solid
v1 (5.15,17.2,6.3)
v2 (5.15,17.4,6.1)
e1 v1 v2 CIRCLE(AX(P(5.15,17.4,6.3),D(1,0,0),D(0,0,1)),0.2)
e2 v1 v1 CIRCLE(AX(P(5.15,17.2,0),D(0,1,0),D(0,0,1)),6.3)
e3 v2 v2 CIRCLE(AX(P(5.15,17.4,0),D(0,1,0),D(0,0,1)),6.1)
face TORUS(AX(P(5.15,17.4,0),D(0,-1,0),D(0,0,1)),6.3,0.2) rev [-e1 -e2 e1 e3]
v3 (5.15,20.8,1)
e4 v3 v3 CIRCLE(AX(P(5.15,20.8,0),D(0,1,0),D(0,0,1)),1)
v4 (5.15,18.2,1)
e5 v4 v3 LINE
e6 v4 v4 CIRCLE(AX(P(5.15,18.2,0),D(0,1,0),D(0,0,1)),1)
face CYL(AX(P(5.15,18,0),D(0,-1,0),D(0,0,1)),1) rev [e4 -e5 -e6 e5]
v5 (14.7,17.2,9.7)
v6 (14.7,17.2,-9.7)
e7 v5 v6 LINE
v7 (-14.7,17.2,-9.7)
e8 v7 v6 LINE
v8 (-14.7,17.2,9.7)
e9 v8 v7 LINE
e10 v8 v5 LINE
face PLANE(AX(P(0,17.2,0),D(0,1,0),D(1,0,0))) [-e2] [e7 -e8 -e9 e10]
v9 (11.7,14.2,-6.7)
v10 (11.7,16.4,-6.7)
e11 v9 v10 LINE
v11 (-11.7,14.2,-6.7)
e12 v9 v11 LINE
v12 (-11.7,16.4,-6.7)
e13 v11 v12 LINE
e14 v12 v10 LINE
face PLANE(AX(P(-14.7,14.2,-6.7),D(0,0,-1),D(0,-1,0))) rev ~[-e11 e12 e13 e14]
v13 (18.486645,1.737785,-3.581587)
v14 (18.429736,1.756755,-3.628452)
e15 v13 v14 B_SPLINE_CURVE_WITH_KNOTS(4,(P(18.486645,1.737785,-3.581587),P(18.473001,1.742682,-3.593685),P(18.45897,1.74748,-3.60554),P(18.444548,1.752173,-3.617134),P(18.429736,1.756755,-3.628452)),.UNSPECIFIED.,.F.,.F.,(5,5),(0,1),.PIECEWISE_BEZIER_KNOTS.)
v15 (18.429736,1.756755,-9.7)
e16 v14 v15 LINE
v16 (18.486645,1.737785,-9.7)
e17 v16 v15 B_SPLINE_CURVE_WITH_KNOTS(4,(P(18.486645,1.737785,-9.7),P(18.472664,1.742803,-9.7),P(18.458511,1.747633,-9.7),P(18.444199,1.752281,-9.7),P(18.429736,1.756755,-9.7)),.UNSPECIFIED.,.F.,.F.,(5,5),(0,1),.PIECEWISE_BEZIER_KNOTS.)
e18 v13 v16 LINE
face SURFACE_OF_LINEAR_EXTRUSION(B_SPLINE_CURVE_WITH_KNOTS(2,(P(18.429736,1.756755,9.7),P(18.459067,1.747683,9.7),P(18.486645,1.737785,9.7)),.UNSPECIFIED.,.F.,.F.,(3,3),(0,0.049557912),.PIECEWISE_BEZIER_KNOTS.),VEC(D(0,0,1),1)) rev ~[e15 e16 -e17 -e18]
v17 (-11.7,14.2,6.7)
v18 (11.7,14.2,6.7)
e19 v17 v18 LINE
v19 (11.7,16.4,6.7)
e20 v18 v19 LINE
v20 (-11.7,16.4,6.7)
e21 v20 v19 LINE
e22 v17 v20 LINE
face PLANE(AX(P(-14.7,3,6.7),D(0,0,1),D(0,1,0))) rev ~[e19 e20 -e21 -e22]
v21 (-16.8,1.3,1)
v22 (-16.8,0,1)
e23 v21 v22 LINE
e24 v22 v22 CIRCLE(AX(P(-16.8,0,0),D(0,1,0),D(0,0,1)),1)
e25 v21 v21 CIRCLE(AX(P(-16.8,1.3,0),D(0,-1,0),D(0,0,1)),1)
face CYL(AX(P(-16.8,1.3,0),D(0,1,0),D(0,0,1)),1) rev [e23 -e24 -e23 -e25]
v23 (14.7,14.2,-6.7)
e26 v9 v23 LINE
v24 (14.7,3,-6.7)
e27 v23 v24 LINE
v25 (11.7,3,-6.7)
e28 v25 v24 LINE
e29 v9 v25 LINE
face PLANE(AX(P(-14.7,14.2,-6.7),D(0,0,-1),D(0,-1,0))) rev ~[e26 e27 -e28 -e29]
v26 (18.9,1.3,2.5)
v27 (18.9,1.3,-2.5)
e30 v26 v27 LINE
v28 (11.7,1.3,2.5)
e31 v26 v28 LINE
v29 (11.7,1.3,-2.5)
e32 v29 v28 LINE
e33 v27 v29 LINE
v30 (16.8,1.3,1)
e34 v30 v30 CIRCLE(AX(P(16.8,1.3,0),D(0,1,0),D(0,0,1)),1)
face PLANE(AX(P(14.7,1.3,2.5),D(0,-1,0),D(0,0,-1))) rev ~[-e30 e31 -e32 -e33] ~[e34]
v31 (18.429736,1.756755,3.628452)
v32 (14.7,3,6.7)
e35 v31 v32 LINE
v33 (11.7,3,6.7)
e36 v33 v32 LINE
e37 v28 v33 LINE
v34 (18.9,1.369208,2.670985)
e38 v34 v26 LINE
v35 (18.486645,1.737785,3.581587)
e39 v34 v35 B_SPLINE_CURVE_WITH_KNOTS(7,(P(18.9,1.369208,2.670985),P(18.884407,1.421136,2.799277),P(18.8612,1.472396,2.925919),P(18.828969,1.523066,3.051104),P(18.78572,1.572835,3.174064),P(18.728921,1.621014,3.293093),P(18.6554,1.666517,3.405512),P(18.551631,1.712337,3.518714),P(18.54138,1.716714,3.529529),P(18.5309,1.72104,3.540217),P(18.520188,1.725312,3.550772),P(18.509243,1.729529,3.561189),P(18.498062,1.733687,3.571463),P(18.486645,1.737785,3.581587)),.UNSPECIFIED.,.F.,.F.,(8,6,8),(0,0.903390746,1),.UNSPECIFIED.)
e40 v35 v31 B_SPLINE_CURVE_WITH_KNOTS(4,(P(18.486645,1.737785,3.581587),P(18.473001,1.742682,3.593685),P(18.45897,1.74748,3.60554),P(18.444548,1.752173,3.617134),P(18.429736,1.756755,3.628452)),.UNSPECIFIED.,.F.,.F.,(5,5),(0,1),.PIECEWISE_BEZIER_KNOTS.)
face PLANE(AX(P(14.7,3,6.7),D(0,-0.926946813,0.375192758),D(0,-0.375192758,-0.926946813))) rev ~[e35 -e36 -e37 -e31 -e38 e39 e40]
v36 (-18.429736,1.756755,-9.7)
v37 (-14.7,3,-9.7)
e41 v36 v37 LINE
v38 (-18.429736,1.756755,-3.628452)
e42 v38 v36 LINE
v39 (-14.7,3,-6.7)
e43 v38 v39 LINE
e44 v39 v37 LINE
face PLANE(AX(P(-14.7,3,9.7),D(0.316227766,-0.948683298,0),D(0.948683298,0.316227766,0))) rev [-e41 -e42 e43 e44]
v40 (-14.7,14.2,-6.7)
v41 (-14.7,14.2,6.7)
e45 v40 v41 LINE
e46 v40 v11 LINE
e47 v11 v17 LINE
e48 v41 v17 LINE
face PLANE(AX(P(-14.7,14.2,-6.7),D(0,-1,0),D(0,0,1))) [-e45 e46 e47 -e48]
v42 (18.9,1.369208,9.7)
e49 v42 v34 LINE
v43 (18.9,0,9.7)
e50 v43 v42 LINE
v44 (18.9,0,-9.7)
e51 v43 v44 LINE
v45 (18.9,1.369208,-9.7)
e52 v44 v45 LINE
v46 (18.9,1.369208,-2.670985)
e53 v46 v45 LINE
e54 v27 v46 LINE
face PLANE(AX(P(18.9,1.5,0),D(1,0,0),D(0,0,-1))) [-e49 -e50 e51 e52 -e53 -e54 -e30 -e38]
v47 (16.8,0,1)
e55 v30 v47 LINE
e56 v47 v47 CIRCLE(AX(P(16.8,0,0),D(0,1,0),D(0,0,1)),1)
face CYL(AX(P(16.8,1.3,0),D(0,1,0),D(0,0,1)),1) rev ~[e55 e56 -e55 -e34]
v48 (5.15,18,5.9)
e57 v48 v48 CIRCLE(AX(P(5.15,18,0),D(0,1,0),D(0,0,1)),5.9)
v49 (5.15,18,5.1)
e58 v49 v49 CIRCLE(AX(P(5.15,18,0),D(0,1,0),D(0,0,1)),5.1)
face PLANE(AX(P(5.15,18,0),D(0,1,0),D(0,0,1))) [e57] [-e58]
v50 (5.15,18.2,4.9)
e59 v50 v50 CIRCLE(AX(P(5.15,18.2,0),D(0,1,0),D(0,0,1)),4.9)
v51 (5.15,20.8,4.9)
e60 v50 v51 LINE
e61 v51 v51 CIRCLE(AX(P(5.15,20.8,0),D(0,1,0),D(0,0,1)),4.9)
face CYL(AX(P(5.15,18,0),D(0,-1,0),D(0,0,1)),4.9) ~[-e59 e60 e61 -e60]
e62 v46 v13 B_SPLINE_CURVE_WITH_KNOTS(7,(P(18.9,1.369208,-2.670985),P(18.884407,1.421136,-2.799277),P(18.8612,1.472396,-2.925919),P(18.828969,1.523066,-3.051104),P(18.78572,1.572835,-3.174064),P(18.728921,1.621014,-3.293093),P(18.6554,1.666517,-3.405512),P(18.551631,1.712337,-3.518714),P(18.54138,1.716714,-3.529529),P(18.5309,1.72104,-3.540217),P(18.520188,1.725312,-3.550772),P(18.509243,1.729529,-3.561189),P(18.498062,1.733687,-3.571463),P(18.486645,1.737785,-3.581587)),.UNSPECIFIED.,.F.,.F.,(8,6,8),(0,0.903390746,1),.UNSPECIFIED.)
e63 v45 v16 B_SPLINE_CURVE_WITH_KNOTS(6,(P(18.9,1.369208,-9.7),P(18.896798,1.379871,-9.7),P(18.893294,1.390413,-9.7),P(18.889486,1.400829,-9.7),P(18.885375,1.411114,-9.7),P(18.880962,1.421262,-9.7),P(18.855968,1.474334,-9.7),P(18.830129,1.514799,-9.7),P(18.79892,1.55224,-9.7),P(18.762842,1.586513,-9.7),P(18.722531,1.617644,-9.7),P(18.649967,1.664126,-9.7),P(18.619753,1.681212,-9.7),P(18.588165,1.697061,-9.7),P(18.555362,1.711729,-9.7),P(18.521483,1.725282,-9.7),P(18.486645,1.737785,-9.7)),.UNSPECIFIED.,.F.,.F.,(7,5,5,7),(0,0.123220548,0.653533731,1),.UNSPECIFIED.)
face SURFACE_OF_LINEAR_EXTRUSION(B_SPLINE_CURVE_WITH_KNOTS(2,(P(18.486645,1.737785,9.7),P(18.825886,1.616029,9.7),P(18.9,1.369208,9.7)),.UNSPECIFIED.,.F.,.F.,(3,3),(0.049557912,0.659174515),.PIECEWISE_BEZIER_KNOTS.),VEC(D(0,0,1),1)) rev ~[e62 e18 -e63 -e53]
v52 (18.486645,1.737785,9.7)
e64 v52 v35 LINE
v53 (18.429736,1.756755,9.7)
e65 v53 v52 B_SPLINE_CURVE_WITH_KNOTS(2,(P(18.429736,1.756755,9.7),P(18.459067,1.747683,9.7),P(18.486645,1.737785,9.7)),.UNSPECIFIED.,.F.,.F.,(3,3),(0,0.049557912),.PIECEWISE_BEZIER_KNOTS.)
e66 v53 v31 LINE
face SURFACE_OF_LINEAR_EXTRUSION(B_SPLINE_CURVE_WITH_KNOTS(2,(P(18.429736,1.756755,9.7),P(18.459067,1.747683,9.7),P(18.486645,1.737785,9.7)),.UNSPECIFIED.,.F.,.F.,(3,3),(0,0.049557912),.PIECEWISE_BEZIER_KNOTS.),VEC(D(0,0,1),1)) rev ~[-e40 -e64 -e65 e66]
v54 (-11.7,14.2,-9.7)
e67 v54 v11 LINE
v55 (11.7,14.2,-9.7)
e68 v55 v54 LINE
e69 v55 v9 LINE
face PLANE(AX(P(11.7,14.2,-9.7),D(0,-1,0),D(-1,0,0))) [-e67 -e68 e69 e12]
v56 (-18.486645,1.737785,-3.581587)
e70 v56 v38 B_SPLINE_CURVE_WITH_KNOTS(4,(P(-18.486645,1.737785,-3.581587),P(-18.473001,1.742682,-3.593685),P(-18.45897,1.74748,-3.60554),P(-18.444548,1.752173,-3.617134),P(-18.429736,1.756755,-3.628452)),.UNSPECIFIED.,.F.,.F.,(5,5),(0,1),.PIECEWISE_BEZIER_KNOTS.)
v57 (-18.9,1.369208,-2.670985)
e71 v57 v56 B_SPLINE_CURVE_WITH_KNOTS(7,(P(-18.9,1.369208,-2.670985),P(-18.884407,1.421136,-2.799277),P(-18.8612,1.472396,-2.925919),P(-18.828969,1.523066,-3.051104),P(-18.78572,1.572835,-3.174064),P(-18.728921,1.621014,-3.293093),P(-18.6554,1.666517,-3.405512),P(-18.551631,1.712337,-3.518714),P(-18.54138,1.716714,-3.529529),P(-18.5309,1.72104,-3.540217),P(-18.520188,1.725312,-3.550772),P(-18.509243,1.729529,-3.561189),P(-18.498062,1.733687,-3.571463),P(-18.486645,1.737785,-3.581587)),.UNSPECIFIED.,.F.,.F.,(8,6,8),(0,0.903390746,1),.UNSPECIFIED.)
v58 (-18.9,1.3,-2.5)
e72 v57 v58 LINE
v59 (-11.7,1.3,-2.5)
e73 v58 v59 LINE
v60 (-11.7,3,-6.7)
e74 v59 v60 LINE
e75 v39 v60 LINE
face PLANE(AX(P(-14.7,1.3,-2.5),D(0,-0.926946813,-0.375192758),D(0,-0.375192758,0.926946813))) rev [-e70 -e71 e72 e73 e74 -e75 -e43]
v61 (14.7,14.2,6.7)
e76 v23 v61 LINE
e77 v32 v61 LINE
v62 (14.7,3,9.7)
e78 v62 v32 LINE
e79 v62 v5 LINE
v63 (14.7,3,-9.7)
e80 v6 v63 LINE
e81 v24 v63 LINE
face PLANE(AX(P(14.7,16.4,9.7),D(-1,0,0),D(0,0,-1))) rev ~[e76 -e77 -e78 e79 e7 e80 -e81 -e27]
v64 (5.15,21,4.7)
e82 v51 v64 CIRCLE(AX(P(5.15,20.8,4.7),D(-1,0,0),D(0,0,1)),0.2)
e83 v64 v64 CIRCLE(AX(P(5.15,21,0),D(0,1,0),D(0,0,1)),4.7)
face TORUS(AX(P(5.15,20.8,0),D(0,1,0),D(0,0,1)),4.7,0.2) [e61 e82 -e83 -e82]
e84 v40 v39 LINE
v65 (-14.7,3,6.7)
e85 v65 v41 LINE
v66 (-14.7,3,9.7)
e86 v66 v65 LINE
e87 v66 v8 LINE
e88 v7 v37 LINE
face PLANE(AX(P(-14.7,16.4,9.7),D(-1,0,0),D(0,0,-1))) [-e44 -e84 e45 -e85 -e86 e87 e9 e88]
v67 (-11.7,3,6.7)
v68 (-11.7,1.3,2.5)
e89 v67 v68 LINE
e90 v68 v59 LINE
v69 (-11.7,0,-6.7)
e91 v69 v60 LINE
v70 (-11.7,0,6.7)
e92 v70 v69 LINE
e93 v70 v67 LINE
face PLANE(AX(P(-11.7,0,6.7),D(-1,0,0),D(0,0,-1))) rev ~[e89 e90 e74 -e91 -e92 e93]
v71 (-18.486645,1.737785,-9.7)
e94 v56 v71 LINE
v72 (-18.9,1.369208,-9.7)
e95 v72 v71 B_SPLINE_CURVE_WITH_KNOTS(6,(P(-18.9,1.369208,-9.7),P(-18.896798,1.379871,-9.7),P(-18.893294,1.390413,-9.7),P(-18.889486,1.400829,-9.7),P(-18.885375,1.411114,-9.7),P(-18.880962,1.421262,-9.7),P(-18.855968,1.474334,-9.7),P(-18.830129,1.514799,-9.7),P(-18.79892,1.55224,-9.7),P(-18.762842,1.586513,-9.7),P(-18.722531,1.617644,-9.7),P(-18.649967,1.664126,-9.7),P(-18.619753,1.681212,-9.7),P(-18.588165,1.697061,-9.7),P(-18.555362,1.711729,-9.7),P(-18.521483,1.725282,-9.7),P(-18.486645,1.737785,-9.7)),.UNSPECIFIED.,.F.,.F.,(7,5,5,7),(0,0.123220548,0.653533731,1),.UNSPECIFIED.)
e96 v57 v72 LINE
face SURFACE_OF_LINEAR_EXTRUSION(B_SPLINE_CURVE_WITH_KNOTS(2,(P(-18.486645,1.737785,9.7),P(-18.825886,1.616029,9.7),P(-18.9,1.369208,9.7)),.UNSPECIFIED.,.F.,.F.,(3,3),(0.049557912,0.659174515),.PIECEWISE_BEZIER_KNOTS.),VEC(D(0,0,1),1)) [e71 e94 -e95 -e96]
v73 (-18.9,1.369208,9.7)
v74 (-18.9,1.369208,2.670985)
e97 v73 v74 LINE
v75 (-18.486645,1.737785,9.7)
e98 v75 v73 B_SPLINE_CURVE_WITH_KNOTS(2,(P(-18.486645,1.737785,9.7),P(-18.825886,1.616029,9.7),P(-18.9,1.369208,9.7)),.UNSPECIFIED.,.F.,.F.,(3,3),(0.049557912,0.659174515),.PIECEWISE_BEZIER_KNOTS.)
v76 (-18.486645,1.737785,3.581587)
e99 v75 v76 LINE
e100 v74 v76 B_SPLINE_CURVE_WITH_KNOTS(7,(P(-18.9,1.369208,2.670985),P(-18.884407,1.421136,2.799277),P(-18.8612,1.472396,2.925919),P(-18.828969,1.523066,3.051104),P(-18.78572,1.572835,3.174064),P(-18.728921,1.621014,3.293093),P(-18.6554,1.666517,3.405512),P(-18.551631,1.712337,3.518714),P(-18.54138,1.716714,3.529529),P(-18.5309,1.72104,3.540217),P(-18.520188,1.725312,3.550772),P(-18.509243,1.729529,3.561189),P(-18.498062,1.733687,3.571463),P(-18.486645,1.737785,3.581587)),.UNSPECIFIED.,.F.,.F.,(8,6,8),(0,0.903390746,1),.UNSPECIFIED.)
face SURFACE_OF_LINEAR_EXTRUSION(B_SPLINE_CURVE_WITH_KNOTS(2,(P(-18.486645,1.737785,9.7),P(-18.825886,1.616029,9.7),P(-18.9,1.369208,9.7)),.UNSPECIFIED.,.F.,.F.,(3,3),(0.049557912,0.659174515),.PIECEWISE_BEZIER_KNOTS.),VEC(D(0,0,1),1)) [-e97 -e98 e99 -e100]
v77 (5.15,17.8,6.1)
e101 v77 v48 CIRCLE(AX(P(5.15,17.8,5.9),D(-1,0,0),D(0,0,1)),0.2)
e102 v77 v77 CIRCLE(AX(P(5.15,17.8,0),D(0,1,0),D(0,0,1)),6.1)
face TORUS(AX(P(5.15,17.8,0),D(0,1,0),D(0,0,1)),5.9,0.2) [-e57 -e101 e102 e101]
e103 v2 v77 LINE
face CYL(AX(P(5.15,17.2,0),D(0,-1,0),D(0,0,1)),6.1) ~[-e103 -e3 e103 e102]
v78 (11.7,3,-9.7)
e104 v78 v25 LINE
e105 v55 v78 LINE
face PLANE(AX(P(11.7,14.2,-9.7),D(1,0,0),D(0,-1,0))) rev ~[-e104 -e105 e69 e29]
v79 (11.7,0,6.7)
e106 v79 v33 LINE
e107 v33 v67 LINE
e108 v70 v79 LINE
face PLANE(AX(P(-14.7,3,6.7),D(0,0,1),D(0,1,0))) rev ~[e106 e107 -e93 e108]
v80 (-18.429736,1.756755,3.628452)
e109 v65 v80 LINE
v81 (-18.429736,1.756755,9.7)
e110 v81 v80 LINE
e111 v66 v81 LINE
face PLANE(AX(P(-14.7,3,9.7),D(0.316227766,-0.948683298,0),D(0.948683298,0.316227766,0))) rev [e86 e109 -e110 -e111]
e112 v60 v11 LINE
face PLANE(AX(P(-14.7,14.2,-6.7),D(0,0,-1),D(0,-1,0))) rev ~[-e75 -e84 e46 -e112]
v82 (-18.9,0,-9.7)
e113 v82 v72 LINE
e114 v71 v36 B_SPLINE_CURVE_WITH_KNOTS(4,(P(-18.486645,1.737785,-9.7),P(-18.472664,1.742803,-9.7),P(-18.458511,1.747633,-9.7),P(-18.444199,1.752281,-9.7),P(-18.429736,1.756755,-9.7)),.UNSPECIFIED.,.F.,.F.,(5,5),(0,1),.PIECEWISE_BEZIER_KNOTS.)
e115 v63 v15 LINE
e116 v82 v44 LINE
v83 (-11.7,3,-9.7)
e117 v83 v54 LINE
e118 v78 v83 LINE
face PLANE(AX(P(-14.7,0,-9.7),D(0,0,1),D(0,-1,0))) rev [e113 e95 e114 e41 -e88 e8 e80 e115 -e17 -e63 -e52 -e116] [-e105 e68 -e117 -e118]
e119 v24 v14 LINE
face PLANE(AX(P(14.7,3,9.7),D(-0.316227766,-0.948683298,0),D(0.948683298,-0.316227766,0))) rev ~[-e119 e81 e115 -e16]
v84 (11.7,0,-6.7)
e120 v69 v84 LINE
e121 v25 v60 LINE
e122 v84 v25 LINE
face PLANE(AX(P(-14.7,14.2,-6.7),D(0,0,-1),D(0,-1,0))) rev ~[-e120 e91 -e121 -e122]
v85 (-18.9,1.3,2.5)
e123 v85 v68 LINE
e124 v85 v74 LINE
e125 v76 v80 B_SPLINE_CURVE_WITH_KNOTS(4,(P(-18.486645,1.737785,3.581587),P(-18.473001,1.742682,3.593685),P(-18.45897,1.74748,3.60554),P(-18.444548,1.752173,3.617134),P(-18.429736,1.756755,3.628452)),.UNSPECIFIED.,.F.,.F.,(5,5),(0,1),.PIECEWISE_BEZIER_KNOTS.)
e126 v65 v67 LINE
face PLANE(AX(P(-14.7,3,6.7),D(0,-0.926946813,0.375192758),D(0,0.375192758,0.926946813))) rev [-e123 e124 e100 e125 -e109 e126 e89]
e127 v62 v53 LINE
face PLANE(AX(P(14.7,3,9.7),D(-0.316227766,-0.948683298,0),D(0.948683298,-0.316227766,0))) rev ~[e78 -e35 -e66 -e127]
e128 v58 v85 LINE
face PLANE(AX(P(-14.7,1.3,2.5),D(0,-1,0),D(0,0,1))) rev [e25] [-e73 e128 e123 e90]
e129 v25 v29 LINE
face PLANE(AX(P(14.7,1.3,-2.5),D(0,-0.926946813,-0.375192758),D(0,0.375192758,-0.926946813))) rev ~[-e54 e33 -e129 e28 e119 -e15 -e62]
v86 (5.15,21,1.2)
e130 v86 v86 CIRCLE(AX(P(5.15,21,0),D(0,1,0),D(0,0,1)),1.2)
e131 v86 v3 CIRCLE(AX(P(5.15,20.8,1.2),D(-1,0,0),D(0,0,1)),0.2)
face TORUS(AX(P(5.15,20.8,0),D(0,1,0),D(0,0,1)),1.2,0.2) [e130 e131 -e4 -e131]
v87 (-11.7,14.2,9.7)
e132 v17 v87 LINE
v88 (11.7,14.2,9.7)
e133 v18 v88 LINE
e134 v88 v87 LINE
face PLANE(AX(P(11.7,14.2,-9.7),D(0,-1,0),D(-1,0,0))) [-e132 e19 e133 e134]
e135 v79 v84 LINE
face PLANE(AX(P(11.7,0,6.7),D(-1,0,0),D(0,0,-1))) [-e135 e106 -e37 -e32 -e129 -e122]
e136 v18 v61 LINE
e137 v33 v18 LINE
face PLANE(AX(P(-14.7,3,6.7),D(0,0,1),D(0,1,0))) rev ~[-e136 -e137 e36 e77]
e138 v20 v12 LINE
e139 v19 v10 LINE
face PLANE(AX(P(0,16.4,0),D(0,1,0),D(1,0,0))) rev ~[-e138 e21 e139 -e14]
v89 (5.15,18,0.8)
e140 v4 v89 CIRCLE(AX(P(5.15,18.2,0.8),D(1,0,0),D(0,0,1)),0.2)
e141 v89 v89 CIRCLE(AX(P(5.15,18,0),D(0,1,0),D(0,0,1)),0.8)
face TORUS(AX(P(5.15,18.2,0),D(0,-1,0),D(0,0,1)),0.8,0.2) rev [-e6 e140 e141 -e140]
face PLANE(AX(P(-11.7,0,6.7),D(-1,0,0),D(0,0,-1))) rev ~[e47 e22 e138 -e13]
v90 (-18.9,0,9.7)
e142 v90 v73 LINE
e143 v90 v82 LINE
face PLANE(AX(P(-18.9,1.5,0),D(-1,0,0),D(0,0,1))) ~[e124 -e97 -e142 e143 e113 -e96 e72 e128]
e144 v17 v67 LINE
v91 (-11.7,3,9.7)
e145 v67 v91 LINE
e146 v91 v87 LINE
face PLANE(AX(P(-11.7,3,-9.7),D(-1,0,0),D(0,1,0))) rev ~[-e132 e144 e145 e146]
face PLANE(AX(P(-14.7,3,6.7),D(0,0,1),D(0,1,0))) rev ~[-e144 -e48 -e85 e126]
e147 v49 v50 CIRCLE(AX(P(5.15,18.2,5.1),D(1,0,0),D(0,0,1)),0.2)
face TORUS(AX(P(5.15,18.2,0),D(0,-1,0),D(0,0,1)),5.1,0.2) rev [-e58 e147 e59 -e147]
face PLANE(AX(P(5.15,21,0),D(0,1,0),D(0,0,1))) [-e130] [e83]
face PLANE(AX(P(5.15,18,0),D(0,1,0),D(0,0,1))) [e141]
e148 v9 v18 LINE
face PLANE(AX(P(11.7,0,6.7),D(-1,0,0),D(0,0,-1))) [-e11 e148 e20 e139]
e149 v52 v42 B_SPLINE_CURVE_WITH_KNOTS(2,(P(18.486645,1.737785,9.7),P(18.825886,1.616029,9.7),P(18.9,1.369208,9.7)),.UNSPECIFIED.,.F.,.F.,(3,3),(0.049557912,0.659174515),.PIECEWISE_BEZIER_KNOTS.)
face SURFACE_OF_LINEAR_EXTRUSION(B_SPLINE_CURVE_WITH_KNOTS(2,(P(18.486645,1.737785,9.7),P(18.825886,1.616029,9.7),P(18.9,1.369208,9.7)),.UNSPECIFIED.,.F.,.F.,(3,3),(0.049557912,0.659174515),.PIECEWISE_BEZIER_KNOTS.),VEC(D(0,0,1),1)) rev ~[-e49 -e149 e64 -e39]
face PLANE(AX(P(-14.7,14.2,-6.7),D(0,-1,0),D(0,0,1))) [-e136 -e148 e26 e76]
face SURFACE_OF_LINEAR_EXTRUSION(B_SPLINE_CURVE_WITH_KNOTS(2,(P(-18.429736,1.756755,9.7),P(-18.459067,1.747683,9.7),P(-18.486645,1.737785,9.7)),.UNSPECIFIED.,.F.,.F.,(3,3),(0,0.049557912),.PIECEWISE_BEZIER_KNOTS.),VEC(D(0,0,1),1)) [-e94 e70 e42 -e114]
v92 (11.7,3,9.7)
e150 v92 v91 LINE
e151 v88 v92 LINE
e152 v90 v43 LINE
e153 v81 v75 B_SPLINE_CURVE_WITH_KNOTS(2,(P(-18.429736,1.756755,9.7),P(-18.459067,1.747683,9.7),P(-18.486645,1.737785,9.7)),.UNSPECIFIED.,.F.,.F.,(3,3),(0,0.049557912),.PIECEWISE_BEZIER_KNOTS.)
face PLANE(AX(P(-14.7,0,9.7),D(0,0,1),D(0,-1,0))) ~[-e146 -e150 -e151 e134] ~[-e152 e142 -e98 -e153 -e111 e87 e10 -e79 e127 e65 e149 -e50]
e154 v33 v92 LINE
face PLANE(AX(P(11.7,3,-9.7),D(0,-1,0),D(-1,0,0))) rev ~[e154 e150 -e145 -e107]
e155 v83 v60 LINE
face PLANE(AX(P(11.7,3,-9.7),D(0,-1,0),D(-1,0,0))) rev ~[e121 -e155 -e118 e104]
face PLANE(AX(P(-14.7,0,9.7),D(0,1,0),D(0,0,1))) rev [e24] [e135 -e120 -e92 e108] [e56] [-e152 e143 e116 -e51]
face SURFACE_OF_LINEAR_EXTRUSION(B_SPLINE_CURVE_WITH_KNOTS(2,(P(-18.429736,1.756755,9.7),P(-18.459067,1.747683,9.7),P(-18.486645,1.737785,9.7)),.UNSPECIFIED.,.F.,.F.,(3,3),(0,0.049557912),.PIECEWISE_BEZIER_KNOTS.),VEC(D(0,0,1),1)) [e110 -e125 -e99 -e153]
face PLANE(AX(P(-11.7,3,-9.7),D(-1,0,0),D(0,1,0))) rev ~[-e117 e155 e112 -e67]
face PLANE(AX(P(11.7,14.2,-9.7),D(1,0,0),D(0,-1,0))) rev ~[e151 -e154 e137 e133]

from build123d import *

# Parameters (mm, degrees)
SKETCH_1_W          = 29.4
SKETCH_1_H          = 19.4
SKETCH_1_W_2        = 23.4
SKETCH_1_H_2        = 13.4
EXTRUDE_1_DEPTH     = 16.4
SKETCH_2_W          = 29.4
SKETCH_2_H          = 19.4
EXTRUDE_2_DEPTH     = 0.8
SKETCH_3_R          = 6.1
EXTRUDE_3_DEPTH     = 0.8
SKETCH_5_R          = 4.9
SKETCH_5_R_2        = 1
EXTRUDE_4_DEPTH     = 3
FILLET_1_R          = 0.2
SKETCH_7_W          = 13.4
SKETCH_7_H          = 5.6
CUT_EXTRUDE_2_DEPTH = 30
SKETCH_8_W          = 23.4
SKETCH_8_H          = 5.6
CUT_EXTRUDE_3_DEPTH = 30
SKETCH_9_W          = 19.4
SKETCH_9_H          = 3
EXTRUDE_5_DEPTH     = 4.2
CUT_EXTRUDE_4_DEPTH = 20.2
CUT_EXTRUDE_5_DEPTH = 5.1
SKETCH_12_R         = 1
CUT_EXTRUDE_6_DEPTH = 2.2


with BuildPart() as part:
    # 草图1 → 凸台-拉伸1 (new body)
    with BuildSketch(Plane(origin=(0, 0, 0), x_dir=(1, 0, 0), z_dir=(0, 1, 0))):
        Rectangle(SKETCH_1_W, SKETCH_1_H)
        Rectangle(SKETCH_1_W_2, SKETCH_1_H_2, mode=Mode.SUBTRACT)
    extrude(amount=EXTRUDE_1_DEPTH)

    # 草图2 → 凸台-拉伸2 (add)
    with BuildSketch(Plane(origin=(0, 16.4, 0), x_dir=(1, 0, 0), z_dir=(0, 1, 0))):
        Rectangle(SKETCH_2_W, SKETCH_2_H)
    extrude(amount=EXTRUDE_2_DEPTH)

    # 草图3 → 凸台-拉伸3 (add)
    with BuildSketch(Plane(origin=(0, 17.2, 0), x_dir=(1, 0, 0), z_dir=(0, 1, 0))):
        with Locations(Location((5.15, 0, 0), (0, 0, 270))):
            Circle(SKETCH_3_R)
    extrude(amount=EXTRUDE_3_DEPTH)

    # 草图5 → 凸台-拉伸4 (add)
    with BuildSketch(Plane(origin=(0, 18, 0), x_dir=(1, 0, 0), z_dir=(0, 1, 0))):
        with Locations(Location((5.15, 0, 0), (0, 0, 270))):
            Circle(SKETCH_5_R)
        with Locations(Location((5.15, 0, 0), (0, 0, 270))):
            Circle(SKETCH_5_R_2, mode=Mode.SUBTRACT)
    extrude(amount=EXTRUDE_4_DEPTH)

    # 圆角1
    fillet_1_edges = [part.edges().sort_by_distance(p)[0] for p in [
        (5.15, 17.2, -6.1),
        (5.15, 18, -6.1),
        (5.15, 18, -1),
        (5.15, 21, -4.9),
        (5.15, 18, -4.9),
        (5.15, 21, -1),
    ]]
    fillet(fillet_1_edges, radius=FILLET_1_R)

    # 草图7 → 切除-拉伸2 (cut)
    with BuildSketch(Plane.ZY.offset(14.7)):
        with Locations((0, 11.4)):
            Rectangle(SKETCH_7_W, SKETCH_7_H)
        with Locations((0, 5.8)):
            Rectangle(SKETCH_7_W, SKETCH_7_H)
    extrude(amount=-CUT_EXTRUDE_2_DEPTH, mode=Mode.SUBTRACT)

    # 草图8 → 切除-拉伸3 (cut)
    with BuildSketch(Plane(origin=(0, 0, -9.7), x_dir=(-1, 0, 0), z_dir=(0, 0, -1))):
        with Locations((0, 11.4)):
            Rectangle(SKETCH_8_W, SKETCH_8_H)
        with Locations((0, 5.8)):
            Rectangle(SKETCH_8_W, SKETCH_8_H)
    extrude(amount=-CUT_EXTRUDE_3_DEPTH, mode=Mode.SUBTRACT)

    # 草图9 → 凸台-拉伸5 (add)
    with BuildSketch(Plane(origin=(14.7, 0, 0), x_dir=(0, 0, -1), z_dir=(1, 0, 0))):
        with Locations((0, 1.5)):
            Rectangle(SKETCH_9_W, SKETCH_9_H)
    extrude_5 = extrude(amount=EXTRUDE_5_DEPTH)

    # 草图10 → 切除-拉伸4 (cut)
    with BuildSketch(Plane.XY.offset(9.7)):
        with BuildLine():
            add(Edge.make_bspline(
                [(18.486644801, 1.737785066), (18.825886074, 1.616028978), (18.9, 1.36920832)],
                knots=[0.049557912, 0.049557912, 0.049557912, 0.659174515, 0.659174515, 0.659174515], degree=2))
            Line((18.9, 1.36920832), (18.9, 1.6))
            Line((18.9, 1.6), (18.9, 3))
            Line((18.9, 3), (14.7, 3))
            Line((14.7, 3), (18.429736397, 1.756754534))
            add(Edge.make_bspline(
                [(18.429736397, 1.756754534), (18.459066665, 1.747683054), (18.486644801, 1.737785066)],
                knots=[0, 0, 0, 0.049557912, 0.049557912, 0.049557912], degree=2))
        make_face()
    cut_extrude_4 = extrude(amount=-CUT_EXTRUDE_4_DEPTH, mode=Mode.SUBTRACT)

    # 草图11 → 切除-拉伸5 (cut, symmetric)
    with BuildSketch(Plane(origin=(14.7, 0, 0), x_dir=(0, 0, -1), z_dir=(1, 0, 0))):
        Polygon((2.5, 1.3), (6.7, 3), (-6.7, 3), (-2.5, 1.3), align=None)
    cut_extrude_5 = extrude(amount=CUT_EXTRUDE_5_DEPTH, both=True, mode=Mode.SUBTRACT)

    # 草图12 → 切除-拉伸6 (cut)
    with BuildSketch(Plane(origin=(0, 1.3, 0), x_dir=(1, 0, 0), z_dir=(0, 1, 0))):
        with Locations(Location((16.8, 0, 0), (0, 0, 270))):
            Circle(SKETCH_12_R)
    cut_extrude_6 = extrude(amount=-CUT_EXTRUDE_6_DEPTH, mode=Mode.SUBTRACT)

    # 镜向1: 凸台-拉伸5, 切除-拉伸4, 切除-拉伸5, 切除-拉伸6 across plane
    add(extrude_5.mirror(Plane(origin=(0, 0, 0), x_dir=(0, 0, 1), z_dir=(1, 0, 0))))
    add(cut_extrude_4.mirror(Plane(origin=(0, 0, 0), x_dir=(0, 0, 1), z_dir=(1, 0, 0))), mode=Mode.SUBTRACT)
    add(cut_extrude_5.mirror(Plane(origin=(0, 0, 0), x_dir=(0, 0, 1), z_dir=(1, 0, 0))), mode=Mode.SUBTRACT)
    add(cut_extrude_6.mirror(Plane(origin=(0, 0, 0), x_dir=(0, 0, 1), z_dir=(1, 0, 0))), mode=Mode.SUBTRACT)


solid = part.part
